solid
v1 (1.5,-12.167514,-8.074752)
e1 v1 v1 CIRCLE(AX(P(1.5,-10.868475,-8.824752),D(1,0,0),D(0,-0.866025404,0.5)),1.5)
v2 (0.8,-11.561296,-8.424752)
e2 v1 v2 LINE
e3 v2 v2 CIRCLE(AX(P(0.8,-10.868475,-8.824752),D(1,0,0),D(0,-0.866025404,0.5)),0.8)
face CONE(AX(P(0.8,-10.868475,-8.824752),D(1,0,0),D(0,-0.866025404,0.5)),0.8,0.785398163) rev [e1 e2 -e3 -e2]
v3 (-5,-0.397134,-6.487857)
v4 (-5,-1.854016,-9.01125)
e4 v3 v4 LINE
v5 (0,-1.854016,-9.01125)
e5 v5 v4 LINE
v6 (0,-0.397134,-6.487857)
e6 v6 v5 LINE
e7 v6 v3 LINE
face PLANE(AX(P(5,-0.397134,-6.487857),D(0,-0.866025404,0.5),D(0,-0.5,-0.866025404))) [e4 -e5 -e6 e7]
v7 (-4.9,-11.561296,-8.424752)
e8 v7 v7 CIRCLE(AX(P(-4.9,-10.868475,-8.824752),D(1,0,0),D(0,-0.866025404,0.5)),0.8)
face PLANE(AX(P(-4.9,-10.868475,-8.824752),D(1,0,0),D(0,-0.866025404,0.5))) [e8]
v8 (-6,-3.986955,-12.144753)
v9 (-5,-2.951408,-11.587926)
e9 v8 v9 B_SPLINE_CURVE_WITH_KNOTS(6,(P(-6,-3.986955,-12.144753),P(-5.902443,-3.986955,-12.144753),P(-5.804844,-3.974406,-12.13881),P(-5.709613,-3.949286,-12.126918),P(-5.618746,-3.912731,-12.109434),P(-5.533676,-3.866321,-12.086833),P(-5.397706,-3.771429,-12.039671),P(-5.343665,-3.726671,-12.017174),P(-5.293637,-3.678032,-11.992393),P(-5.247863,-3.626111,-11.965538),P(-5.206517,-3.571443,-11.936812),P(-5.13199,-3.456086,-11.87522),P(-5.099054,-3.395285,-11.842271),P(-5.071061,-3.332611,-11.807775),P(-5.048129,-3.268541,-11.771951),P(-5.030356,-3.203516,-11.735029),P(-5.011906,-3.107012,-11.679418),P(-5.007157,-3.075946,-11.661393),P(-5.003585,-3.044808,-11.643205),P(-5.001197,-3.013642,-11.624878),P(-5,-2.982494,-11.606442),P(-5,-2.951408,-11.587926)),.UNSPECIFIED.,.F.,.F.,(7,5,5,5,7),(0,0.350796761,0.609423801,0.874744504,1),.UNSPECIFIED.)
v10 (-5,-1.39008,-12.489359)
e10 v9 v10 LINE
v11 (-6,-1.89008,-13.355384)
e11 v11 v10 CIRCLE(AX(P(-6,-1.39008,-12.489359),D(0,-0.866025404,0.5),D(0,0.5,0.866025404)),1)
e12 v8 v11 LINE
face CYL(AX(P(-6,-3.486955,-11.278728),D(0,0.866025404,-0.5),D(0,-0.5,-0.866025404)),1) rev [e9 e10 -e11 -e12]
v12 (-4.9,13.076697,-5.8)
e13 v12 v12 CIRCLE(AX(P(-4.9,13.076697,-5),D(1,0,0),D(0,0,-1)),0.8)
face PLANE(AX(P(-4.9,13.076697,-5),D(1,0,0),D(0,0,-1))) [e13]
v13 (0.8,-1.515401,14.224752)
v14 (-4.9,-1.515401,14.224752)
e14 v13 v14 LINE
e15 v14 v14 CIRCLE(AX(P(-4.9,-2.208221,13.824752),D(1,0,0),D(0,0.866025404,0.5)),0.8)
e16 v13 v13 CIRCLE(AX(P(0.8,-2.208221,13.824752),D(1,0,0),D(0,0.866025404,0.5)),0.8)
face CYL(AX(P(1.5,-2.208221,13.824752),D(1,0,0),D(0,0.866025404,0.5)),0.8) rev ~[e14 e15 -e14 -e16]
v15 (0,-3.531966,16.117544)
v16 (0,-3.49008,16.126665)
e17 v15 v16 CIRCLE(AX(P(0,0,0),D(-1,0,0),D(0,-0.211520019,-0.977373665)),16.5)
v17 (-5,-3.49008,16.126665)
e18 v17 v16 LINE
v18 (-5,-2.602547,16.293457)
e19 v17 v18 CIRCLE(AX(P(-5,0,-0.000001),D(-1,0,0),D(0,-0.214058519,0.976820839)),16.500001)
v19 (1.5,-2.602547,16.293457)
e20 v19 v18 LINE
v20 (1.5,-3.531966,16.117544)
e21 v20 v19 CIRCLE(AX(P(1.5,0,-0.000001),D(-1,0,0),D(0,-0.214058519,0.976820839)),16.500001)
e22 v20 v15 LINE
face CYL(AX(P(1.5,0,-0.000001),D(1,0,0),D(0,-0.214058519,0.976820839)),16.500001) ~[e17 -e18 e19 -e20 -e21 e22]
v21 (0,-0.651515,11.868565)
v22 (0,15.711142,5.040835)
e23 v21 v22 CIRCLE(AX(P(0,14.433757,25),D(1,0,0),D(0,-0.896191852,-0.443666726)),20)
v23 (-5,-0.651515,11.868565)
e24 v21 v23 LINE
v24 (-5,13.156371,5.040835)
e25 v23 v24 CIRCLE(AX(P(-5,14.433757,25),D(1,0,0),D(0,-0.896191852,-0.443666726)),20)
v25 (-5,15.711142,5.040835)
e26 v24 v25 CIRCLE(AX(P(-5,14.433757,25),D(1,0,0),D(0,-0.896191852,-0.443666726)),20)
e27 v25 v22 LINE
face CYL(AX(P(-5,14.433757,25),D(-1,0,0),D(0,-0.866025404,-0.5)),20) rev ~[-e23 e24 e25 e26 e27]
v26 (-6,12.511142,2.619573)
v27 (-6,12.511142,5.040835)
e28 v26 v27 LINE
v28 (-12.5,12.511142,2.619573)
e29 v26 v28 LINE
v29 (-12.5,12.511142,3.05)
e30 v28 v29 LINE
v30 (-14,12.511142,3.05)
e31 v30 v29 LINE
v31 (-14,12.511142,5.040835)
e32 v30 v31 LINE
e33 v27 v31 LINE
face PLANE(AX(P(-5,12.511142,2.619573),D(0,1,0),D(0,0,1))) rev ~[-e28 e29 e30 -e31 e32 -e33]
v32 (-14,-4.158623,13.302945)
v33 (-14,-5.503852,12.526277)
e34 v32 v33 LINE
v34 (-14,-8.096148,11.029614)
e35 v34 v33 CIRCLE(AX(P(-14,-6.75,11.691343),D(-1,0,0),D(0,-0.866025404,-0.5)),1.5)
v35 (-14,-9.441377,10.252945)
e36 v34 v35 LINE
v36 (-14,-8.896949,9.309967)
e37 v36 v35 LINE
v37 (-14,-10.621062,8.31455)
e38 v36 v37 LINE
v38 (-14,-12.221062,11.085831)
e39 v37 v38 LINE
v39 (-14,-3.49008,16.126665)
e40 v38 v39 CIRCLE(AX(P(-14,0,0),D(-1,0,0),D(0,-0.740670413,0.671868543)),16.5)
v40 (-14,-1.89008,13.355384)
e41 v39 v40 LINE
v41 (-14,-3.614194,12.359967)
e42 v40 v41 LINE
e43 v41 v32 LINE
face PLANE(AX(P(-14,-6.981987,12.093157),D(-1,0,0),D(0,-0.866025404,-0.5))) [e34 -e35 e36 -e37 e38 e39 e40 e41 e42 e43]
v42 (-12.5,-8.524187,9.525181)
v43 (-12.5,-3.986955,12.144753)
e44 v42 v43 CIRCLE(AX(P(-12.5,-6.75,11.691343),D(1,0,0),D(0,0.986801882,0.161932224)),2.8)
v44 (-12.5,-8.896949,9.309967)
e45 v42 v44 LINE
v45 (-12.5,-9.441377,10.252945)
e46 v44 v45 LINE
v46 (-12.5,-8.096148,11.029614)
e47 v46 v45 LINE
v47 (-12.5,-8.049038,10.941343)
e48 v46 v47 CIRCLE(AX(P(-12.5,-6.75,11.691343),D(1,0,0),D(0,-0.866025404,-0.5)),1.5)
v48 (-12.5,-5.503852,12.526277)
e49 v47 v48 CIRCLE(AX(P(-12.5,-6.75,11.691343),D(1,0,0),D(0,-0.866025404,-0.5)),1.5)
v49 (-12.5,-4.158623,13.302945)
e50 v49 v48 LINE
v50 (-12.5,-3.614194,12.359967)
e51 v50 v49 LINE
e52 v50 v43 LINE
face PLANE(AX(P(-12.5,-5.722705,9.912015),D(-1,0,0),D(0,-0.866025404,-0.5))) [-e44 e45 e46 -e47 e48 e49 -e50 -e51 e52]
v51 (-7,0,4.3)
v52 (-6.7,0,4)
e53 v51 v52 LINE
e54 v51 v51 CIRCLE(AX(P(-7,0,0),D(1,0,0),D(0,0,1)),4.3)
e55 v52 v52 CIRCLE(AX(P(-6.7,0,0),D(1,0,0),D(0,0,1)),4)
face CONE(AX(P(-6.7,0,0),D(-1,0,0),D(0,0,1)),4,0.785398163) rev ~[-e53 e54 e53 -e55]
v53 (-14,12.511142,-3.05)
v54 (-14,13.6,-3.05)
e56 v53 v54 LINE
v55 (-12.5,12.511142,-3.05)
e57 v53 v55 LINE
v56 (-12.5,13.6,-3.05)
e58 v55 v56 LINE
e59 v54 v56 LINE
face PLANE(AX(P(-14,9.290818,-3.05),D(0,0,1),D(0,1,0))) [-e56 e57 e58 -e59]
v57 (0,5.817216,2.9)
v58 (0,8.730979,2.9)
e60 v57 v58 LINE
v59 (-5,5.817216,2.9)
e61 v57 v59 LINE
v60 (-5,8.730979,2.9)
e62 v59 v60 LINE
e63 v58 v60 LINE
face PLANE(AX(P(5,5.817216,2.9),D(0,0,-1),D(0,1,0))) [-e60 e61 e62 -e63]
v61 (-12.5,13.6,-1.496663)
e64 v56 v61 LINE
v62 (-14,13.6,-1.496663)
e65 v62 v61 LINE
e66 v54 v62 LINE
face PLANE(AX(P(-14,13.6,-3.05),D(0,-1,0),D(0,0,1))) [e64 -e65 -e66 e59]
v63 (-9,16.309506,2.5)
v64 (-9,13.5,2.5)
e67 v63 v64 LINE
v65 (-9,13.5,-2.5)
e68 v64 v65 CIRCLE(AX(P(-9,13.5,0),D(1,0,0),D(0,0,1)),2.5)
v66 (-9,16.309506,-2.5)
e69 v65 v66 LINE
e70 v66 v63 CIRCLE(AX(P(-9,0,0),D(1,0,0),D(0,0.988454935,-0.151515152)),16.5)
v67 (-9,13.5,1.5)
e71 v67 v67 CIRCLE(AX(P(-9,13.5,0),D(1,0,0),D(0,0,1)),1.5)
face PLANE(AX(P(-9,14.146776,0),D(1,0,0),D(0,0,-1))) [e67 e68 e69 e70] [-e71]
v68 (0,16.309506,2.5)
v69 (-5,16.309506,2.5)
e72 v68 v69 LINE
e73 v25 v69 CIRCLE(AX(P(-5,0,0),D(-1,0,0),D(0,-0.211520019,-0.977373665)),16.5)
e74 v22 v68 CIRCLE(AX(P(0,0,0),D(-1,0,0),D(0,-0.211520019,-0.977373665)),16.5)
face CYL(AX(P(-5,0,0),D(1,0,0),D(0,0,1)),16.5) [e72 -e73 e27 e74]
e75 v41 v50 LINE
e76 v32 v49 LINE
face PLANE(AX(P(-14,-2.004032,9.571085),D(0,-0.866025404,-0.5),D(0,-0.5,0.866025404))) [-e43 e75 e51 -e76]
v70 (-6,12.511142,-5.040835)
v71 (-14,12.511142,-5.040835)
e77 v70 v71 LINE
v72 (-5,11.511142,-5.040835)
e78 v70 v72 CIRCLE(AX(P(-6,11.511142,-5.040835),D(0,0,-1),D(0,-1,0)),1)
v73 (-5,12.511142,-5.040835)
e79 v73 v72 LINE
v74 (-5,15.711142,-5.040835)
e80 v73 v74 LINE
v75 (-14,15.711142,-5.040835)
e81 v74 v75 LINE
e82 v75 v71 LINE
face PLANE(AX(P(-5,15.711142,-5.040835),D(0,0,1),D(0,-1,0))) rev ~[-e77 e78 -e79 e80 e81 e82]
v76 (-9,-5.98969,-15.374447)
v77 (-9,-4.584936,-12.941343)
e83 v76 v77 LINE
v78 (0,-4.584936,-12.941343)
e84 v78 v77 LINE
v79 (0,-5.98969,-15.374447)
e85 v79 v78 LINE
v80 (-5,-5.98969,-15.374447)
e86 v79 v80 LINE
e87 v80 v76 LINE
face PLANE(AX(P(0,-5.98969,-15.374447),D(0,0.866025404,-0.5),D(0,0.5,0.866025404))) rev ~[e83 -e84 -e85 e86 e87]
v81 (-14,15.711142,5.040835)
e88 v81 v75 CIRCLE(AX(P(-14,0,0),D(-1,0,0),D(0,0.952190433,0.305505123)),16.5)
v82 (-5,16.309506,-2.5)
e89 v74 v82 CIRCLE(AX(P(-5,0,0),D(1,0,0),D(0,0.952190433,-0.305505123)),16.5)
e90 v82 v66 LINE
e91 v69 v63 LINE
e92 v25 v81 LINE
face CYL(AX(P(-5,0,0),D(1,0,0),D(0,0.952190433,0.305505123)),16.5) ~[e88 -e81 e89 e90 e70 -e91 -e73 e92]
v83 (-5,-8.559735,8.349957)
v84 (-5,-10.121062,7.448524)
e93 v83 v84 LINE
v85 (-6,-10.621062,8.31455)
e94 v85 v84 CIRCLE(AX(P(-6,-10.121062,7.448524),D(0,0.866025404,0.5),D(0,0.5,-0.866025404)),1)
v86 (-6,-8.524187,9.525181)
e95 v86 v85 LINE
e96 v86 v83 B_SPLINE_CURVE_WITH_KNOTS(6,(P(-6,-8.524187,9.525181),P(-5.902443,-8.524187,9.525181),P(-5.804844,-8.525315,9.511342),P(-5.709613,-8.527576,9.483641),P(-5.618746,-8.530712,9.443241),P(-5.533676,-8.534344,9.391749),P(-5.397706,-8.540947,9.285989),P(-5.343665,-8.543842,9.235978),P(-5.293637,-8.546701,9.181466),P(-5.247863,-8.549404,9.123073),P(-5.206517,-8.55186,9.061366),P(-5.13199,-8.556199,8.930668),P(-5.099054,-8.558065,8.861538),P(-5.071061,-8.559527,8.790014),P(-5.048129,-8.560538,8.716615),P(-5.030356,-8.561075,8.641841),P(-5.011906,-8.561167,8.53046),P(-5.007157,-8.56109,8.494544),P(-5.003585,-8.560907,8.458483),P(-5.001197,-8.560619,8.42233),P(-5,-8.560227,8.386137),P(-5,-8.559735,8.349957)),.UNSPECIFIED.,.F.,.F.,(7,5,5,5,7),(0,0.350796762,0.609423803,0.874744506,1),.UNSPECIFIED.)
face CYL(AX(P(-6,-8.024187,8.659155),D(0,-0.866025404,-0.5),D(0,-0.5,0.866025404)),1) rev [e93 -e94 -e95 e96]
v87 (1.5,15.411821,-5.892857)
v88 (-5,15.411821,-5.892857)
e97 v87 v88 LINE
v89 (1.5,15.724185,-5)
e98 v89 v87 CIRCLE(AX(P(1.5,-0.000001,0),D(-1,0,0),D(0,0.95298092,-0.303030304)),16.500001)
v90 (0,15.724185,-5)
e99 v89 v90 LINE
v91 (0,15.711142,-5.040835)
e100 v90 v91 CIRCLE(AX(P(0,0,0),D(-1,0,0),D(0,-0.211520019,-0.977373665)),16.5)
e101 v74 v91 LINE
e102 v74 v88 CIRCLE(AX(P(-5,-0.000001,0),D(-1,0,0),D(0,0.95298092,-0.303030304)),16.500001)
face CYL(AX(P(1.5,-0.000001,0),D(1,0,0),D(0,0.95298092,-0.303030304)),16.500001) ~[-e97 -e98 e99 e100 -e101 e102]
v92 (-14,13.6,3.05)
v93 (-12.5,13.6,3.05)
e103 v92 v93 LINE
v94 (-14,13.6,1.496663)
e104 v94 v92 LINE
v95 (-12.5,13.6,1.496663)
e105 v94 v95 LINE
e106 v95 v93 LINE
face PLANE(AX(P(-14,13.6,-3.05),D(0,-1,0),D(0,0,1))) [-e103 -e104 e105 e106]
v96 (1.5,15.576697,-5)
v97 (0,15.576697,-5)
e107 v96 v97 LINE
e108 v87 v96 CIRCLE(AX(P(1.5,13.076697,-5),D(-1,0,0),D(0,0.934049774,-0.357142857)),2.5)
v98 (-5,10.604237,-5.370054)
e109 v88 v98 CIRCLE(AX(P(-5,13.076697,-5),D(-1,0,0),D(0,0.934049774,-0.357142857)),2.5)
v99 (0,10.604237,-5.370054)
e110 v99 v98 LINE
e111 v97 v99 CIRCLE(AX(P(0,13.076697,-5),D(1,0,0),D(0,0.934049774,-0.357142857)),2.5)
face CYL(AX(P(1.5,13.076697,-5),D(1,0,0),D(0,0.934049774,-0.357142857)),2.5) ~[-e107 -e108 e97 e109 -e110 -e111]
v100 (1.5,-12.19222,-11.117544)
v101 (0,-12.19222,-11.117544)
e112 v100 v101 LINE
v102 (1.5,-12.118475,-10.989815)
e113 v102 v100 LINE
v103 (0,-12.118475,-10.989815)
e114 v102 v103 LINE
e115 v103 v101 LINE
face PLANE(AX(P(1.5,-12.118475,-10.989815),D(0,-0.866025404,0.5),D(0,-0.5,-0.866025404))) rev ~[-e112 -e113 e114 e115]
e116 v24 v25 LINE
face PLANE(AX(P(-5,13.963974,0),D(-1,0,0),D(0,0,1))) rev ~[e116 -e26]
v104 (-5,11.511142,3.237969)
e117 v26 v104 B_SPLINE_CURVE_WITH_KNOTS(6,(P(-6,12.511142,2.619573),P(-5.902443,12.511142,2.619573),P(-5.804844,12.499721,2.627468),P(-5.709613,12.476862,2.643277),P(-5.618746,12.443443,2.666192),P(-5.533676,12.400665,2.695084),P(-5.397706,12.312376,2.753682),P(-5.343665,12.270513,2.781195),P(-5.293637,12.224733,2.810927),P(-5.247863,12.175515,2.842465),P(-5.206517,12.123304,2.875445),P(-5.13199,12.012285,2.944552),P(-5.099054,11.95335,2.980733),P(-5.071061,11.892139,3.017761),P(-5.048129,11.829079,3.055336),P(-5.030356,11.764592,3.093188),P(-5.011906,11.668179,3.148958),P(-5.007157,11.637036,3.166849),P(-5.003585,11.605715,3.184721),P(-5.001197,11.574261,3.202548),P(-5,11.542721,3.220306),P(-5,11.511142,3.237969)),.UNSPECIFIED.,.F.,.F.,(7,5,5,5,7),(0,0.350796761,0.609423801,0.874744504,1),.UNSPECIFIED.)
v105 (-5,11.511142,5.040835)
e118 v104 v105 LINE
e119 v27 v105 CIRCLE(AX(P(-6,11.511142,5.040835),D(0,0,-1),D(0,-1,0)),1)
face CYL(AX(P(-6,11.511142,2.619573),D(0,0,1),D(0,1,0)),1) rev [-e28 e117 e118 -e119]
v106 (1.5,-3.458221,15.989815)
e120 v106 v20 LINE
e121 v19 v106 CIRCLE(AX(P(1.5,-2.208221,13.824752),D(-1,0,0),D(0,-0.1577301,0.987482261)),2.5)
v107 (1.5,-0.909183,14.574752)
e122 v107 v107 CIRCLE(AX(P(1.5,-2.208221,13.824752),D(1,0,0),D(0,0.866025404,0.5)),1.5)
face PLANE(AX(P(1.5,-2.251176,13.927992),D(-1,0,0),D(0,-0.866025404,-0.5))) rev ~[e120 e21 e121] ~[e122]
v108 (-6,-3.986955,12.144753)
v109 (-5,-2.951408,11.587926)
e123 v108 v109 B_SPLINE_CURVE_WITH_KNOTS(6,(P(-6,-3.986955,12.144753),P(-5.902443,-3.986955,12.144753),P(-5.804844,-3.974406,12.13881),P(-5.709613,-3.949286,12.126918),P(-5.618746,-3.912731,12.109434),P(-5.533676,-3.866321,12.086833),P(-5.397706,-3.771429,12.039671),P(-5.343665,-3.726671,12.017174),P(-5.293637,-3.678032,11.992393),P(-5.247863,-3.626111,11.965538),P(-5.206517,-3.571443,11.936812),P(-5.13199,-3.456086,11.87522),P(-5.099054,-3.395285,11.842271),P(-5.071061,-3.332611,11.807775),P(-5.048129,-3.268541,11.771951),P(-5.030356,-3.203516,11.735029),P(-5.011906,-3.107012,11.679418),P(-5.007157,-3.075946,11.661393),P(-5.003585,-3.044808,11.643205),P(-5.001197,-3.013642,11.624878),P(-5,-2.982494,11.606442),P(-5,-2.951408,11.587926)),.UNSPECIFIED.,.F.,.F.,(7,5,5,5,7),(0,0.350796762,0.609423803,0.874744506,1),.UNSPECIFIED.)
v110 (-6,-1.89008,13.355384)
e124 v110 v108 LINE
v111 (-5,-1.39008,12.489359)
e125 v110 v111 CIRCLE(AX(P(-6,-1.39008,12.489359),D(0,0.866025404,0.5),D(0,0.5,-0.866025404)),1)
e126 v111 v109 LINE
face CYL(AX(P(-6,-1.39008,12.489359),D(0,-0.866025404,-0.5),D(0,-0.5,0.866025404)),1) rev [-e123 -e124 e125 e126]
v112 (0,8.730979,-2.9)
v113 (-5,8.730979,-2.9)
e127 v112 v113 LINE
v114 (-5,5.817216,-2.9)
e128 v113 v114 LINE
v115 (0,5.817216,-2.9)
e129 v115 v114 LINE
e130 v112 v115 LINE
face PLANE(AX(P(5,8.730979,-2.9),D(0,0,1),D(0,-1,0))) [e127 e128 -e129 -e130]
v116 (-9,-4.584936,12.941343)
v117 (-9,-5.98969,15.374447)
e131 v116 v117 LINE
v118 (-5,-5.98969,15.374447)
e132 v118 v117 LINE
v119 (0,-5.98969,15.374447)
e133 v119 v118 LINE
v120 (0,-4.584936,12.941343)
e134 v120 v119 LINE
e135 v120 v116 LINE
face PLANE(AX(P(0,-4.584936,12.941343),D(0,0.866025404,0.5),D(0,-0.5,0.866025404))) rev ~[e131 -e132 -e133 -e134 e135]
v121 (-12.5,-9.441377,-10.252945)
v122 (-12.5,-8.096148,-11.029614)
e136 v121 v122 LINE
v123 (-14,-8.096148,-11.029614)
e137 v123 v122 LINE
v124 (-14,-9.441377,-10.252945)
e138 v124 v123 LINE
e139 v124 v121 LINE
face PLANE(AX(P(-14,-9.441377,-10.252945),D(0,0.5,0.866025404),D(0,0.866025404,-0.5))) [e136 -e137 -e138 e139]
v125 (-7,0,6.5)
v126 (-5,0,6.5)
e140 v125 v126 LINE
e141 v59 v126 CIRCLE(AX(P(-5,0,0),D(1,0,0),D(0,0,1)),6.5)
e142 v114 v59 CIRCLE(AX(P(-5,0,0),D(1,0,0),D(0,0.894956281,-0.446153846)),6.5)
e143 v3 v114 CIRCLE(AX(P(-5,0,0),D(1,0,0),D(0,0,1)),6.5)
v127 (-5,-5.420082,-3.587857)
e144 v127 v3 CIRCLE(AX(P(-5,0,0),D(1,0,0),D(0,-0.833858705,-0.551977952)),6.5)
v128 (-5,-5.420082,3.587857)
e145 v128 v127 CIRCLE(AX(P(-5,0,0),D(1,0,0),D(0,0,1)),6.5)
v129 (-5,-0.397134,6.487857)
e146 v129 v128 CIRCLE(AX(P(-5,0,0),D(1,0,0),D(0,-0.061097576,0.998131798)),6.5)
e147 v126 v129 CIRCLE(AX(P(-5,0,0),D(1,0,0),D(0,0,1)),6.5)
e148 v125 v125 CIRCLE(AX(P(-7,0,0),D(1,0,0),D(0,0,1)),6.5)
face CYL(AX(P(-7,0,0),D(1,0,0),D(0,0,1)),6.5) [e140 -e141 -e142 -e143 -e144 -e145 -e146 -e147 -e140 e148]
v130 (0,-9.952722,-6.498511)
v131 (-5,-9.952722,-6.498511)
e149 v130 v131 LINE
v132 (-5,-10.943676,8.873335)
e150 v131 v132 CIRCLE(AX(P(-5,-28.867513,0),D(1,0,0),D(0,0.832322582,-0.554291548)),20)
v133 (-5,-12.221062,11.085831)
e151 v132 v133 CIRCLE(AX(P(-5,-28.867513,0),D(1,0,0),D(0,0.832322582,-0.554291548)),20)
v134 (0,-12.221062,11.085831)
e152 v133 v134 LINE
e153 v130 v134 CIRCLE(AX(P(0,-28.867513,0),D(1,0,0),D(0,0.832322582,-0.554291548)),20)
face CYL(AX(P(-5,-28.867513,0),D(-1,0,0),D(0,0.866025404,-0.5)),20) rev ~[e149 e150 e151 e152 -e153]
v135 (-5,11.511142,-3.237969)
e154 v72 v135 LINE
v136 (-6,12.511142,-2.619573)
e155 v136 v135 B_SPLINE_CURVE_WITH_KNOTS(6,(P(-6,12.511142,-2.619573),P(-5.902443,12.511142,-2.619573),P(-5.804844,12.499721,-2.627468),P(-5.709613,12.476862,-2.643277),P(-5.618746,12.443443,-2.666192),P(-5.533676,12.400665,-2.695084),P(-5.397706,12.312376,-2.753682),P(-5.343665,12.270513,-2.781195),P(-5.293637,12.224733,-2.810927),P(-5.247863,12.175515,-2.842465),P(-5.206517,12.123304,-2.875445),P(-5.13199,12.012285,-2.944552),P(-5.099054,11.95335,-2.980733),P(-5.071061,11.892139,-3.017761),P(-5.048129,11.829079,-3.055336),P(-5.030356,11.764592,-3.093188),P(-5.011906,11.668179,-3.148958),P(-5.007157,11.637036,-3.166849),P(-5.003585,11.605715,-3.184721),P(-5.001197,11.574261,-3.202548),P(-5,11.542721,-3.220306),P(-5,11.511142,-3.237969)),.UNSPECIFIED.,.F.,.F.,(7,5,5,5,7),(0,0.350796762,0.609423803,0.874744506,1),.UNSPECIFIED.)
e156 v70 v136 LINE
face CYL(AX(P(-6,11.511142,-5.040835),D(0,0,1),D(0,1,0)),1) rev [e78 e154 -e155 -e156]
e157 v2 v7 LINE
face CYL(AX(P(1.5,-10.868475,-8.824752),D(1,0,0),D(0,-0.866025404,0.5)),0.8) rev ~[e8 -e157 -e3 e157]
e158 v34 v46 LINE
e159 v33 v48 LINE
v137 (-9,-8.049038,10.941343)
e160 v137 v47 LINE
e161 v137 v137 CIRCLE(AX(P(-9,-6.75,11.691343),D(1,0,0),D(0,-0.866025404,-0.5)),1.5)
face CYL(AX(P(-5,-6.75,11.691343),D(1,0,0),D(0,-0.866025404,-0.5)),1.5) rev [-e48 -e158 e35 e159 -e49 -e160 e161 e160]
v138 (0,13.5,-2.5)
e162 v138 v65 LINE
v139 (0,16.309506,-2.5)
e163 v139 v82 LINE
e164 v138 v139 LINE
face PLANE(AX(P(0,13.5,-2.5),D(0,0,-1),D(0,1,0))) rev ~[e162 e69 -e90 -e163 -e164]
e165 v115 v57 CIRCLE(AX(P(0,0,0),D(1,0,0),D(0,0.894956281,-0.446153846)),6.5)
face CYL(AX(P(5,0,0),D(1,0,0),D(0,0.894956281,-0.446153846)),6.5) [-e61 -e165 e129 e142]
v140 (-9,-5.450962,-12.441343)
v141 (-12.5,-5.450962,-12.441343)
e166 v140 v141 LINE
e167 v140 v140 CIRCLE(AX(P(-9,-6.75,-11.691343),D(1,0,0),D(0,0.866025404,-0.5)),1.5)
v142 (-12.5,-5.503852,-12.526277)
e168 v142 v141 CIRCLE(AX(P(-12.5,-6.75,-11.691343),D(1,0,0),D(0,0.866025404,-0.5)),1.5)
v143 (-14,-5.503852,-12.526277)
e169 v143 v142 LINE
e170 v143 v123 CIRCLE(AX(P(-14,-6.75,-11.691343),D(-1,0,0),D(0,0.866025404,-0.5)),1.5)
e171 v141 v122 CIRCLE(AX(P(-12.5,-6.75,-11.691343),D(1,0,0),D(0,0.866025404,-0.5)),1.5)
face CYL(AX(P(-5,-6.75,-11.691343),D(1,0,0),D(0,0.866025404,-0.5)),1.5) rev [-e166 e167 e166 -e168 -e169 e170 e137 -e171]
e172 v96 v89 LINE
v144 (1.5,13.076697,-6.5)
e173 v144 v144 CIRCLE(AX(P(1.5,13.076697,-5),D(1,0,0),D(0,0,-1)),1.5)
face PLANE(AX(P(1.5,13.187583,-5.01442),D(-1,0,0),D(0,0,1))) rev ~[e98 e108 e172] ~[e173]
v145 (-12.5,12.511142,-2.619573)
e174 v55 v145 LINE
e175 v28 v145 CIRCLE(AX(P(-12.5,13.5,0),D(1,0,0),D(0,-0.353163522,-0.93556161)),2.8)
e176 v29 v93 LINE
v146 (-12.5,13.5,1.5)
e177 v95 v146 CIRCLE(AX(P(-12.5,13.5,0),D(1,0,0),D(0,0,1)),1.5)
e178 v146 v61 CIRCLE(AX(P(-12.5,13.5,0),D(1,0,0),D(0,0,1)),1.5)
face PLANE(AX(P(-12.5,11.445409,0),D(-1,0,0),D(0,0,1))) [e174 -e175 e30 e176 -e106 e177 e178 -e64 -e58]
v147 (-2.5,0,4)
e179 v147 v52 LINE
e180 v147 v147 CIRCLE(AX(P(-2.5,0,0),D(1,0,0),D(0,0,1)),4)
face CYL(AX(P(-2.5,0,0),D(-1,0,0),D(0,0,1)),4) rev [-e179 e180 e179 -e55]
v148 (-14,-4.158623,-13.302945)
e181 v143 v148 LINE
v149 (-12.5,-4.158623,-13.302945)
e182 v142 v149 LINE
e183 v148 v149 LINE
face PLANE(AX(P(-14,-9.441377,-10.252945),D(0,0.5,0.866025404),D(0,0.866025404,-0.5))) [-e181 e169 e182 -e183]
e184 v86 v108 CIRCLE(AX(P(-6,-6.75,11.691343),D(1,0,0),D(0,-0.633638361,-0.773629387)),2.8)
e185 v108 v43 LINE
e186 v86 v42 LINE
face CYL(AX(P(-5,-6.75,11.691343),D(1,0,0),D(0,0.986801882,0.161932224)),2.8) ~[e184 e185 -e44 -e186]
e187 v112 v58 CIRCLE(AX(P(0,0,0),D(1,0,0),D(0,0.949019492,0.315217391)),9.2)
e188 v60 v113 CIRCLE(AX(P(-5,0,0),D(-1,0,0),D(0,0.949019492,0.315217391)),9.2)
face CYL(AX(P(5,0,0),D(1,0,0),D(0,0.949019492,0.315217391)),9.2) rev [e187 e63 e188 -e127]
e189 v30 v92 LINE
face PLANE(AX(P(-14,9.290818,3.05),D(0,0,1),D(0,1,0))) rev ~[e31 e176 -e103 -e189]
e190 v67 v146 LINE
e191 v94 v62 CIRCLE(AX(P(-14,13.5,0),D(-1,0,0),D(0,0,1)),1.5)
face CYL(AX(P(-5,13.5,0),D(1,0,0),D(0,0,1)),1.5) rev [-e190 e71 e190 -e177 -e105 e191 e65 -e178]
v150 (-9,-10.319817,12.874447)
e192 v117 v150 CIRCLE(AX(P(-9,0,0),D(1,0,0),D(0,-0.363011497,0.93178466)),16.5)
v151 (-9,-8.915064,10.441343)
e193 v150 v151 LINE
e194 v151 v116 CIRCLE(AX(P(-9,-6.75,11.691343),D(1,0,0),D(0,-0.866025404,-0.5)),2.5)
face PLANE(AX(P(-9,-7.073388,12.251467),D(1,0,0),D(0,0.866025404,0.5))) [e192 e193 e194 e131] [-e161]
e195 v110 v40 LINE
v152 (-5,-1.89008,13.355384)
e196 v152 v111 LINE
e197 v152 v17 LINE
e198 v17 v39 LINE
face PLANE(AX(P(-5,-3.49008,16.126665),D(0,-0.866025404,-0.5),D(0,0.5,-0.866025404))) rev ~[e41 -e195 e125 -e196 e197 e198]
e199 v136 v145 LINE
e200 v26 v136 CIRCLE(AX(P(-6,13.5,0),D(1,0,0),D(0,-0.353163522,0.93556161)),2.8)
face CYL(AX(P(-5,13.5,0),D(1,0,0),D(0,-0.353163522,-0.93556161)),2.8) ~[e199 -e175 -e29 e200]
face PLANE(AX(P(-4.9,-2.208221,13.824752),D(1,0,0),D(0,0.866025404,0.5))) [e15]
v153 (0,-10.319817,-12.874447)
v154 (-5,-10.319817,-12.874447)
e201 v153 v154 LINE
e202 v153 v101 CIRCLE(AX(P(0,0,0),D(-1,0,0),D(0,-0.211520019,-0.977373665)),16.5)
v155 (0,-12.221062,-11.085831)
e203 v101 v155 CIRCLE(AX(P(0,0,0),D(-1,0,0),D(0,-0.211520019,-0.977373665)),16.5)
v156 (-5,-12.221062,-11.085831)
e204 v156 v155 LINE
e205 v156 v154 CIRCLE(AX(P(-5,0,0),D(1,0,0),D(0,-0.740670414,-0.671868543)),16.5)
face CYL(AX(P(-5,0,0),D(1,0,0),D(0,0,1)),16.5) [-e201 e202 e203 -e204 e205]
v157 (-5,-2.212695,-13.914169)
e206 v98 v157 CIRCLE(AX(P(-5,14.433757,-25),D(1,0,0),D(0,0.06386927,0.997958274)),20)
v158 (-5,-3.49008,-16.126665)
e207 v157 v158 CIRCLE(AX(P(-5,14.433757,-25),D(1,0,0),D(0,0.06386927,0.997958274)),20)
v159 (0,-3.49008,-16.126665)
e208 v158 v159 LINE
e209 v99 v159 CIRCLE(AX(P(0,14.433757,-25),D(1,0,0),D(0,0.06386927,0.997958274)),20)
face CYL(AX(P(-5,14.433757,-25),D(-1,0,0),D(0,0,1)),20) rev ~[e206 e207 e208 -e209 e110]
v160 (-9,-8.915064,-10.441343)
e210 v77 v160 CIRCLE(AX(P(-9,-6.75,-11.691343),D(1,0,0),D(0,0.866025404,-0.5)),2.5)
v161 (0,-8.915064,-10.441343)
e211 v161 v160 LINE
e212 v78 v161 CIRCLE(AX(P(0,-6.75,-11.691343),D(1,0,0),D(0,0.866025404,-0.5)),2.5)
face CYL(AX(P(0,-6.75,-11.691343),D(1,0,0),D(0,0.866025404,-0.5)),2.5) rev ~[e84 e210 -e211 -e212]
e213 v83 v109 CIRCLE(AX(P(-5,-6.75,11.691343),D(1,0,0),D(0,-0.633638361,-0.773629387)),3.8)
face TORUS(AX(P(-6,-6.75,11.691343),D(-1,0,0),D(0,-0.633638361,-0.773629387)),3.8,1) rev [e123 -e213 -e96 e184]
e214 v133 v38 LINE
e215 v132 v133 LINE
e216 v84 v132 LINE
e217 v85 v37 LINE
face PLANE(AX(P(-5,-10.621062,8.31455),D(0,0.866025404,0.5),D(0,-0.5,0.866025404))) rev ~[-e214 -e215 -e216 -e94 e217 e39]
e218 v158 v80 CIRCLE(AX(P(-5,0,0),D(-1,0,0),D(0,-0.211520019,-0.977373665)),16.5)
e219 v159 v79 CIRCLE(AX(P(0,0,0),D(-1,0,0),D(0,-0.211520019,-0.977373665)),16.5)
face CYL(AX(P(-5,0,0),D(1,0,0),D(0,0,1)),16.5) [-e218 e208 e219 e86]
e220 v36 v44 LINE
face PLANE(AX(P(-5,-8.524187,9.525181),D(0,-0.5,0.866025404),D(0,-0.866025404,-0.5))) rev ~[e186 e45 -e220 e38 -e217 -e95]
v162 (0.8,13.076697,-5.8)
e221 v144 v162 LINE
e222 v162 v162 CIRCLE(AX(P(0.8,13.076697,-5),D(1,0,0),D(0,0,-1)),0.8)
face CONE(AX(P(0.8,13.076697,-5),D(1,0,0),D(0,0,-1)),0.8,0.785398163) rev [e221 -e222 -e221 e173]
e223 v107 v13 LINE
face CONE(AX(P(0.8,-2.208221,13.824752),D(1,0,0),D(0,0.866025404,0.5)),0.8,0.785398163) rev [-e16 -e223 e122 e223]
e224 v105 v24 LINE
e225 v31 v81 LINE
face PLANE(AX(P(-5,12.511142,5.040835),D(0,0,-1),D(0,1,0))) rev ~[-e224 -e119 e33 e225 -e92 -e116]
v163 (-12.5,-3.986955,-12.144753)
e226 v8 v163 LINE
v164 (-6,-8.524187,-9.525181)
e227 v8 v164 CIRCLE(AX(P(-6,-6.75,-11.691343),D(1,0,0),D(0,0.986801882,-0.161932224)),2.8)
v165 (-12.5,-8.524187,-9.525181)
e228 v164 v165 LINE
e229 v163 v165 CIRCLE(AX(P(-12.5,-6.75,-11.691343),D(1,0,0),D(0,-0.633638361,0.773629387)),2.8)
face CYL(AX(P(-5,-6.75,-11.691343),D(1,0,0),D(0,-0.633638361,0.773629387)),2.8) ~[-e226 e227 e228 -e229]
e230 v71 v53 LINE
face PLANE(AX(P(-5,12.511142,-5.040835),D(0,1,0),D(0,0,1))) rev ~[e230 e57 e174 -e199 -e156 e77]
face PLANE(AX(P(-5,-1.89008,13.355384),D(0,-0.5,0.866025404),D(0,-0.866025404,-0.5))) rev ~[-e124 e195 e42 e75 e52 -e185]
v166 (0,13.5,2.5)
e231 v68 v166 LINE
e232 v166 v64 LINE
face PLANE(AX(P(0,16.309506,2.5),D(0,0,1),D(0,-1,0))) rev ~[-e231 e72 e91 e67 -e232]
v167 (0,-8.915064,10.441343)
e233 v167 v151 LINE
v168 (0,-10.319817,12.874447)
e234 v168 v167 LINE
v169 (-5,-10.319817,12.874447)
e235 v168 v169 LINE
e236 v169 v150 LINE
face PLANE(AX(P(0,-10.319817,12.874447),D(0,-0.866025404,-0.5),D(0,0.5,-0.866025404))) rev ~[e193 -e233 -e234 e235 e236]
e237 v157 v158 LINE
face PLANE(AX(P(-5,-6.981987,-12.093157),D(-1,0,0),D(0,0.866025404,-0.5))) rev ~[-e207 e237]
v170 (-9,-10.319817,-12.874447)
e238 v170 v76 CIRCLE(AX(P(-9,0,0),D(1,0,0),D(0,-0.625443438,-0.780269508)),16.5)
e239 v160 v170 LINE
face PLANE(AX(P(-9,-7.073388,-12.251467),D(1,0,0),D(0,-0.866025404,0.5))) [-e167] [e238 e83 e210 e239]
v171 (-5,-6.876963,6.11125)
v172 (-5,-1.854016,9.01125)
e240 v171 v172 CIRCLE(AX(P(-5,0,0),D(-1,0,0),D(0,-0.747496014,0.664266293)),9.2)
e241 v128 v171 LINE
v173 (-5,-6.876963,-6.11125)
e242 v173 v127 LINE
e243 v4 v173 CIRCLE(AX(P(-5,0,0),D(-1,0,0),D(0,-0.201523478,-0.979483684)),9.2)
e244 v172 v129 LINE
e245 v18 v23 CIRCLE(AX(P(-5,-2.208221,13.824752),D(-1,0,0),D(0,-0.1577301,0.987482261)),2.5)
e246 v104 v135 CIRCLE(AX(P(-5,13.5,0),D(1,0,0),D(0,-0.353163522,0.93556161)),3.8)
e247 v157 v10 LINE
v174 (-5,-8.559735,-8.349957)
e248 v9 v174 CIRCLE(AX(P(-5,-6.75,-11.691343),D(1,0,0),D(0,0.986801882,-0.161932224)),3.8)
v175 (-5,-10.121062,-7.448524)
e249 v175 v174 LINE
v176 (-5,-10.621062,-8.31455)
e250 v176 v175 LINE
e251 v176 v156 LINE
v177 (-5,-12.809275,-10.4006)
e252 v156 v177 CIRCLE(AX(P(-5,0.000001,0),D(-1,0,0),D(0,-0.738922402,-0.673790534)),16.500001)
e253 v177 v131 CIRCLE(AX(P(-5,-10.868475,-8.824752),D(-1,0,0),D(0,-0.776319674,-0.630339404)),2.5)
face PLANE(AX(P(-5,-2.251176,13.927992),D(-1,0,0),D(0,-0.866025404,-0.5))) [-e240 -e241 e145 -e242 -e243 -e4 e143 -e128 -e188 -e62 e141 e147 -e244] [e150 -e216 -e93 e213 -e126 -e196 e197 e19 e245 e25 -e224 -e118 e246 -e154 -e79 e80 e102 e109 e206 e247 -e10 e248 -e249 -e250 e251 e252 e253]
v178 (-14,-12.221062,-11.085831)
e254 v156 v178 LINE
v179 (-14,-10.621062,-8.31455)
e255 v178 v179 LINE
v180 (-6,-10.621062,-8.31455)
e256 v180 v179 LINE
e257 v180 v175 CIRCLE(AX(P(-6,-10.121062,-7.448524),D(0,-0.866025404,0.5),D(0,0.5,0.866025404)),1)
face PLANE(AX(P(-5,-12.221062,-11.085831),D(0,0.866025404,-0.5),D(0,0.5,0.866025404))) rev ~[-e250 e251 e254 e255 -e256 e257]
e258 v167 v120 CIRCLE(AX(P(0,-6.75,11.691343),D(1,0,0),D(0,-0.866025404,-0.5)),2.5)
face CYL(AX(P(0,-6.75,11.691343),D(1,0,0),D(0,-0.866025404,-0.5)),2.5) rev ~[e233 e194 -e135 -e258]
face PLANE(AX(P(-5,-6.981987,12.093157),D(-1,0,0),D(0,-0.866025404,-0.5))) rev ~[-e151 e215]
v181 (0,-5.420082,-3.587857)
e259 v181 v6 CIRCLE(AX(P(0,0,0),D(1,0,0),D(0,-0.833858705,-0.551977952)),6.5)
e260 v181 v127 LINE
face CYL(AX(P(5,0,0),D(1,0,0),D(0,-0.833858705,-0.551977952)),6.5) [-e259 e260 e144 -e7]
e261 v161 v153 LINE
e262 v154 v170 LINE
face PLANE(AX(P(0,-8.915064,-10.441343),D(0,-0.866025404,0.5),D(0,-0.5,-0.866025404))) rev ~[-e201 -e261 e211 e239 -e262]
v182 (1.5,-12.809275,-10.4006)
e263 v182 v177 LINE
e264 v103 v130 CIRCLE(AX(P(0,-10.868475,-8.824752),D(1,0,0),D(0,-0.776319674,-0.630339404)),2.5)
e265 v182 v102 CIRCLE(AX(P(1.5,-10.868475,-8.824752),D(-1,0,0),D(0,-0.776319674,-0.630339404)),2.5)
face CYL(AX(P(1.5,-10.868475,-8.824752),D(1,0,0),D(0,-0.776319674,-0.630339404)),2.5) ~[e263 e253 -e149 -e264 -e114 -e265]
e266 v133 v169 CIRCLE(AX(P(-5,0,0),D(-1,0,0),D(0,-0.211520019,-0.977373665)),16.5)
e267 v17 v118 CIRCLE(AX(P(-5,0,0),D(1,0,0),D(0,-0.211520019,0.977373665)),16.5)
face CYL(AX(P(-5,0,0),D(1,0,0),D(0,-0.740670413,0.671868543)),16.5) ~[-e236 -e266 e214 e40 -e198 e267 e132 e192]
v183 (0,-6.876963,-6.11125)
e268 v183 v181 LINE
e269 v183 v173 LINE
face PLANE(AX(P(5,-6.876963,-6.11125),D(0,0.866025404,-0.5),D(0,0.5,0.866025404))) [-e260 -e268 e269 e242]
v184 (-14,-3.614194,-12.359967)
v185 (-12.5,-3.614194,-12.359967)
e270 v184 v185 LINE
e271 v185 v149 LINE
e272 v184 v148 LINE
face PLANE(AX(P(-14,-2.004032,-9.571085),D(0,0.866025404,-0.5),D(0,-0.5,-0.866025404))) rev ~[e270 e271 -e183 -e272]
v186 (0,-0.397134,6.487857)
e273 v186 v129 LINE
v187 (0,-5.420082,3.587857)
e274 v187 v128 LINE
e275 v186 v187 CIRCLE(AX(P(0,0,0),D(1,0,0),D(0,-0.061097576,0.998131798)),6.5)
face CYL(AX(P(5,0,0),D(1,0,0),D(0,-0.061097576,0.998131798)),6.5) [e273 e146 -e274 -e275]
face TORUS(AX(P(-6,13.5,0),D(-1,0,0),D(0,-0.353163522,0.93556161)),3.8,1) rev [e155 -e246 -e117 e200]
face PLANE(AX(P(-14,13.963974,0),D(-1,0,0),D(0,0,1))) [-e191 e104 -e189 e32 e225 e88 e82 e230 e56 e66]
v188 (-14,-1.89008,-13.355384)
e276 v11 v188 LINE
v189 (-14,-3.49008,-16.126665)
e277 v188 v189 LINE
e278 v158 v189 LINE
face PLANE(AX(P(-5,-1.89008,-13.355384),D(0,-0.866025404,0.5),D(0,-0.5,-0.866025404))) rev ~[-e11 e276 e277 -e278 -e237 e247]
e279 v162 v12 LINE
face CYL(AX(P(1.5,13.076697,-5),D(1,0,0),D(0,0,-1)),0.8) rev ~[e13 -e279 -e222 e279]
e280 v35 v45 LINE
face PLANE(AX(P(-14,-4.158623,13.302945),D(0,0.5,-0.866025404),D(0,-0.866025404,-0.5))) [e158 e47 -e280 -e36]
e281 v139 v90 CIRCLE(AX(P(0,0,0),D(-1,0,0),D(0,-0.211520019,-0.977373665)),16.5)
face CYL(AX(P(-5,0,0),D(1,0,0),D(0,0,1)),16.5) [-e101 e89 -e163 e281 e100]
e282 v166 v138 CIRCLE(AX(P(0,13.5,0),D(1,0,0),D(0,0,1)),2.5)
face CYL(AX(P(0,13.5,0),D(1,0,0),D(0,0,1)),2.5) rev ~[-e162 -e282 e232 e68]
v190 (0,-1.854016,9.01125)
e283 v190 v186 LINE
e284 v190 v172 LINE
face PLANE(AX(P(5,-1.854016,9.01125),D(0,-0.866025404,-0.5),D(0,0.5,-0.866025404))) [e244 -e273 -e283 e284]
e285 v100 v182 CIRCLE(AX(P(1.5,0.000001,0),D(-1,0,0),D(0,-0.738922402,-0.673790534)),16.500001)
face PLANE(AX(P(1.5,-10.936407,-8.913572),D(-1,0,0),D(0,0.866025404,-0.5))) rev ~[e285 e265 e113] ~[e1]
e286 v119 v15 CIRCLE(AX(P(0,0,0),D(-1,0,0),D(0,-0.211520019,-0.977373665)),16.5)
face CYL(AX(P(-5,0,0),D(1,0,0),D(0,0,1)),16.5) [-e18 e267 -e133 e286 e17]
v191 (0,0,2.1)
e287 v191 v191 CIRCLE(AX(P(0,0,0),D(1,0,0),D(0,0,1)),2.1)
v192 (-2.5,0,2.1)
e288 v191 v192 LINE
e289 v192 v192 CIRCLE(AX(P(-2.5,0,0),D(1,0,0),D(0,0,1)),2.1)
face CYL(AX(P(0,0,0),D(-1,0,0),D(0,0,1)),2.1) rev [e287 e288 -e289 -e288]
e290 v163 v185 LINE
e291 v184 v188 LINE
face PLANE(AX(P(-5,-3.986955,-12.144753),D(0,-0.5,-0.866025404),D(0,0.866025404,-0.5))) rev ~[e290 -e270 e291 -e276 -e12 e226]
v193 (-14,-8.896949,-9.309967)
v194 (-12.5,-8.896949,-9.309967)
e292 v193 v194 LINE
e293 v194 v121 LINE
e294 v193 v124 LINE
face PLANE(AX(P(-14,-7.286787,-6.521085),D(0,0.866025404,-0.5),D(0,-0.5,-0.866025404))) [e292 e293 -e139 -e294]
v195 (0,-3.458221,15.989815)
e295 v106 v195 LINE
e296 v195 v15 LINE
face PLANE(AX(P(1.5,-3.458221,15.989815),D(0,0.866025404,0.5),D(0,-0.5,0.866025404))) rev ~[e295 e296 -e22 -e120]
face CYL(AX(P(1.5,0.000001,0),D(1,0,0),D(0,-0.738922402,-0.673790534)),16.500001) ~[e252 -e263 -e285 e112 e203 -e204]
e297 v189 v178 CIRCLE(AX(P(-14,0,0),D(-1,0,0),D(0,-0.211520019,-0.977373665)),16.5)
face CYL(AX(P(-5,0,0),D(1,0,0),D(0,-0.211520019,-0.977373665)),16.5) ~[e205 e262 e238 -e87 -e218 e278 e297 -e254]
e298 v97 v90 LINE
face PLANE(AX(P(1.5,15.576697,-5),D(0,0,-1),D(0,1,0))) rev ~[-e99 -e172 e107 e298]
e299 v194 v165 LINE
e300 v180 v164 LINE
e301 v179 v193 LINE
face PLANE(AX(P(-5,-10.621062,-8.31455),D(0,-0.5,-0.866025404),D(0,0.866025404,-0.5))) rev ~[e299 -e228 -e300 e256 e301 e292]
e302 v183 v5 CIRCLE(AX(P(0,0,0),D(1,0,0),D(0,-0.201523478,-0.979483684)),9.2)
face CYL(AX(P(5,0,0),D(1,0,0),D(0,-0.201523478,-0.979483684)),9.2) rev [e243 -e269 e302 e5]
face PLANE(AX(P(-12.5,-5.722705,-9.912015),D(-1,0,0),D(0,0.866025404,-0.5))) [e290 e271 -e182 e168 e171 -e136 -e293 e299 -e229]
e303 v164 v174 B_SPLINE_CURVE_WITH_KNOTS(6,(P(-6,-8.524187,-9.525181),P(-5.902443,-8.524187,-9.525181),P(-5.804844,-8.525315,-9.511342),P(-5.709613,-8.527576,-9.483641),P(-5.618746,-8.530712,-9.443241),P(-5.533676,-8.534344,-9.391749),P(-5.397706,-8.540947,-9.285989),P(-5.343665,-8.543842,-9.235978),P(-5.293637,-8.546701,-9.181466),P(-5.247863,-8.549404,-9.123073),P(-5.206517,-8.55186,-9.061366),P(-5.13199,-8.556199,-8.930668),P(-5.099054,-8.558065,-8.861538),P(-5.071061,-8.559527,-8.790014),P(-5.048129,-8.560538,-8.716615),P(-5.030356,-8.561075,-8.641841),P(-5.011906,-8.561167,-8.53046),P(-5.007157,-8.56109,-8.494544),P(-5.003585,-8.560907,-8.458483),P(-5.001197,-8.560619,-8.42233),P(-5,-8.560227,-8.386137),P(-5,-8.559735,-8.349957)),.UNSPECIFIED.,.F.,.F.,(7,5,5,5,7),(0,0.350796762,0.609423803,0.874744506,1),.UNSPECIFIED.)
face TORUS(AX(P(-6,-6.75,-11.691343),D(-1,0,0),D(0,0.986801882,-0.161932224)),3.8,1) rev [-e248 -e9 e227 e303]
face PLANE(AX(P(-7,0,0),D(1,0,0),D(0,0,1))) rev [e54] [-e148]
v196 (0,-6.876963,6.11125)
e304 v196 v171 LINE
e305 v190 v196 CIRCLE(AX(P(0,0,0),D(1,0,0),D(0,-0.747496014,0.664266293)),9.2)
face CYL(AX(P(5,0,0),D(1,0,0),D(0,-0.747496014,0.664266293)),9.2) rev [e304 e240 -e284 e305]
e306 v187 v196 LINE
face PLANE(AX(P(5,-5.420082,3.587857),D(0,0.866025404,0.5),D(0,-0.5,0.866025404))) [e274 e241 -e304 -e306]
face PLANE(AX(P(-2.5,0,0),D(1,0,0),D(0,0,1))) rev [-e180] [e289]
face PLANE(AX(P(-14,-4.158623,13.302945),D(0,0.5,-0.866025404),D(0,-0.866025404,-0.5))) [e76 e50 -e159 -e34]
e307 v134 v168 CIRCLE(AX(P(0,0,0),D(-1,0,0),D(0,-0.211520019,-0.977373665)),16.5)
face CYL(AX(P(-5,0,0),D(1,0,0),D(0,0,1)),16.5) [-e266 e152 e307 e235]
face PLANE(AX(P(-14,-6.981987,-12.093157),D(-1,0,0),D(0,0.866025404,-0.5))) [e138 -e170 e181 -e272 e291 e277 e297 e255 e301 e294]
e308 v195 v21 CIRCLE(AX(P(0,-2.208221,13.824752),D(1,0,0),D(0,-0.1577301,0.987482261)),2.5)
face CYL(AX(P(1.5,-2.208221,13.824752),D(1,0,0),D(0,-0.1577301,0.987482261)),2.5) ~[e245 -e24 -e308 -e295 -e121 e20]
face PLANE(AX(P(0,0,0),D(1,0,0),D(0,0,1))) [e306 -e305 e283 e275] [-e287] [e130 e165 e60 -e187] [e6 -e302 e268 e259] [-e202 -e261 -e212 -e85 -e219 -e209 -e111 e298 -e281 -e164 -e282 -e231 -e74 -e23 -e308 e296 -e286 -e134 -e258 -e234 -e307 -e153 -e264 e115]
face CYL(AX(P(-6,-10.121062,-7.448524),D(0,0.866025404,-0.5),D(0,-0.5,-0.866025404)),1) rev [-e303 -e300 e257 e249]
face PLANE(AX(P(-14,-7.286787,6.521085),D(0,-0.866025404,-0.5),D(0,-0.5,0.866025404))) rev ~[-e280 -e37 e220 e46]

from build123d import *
from build123d.topology import SkipClean

# Parameters (mm, degrees)
SKETCH_2_R                           = 20
CUT_EXTRUDE_1_DEPTH                  = 10
PATTERN_CIRCULAR_1_COUNT             = 3
CUT_EXTRUDE_START                    = -10
CUT_EXTRUDE_2_DEPTH                  = 10
PATTERN_CIRCULAR_2_COUNT             = 3
SKETCH_4_R                           = 1.5
EXTRUDE_1_DEPTH                      = 9
PATTERN_CIRCULAR_3_COUNT             = 3
SKETCH_5_W                           = 6.1
SKETCH_5_H                           = 4.309181557
CUT_EXTRUDE_3_DEPTH                  = 1.5
PATTERN_CIRCULAR_4_COUNT             = 3
CUT_EXTRUDE_4_DEPTH                  = 9
PATTERN_CIRCULAR_5_COUNT             = 3
EXTRUDE_START                        = -6.5
EXTRUDE_2_DEPTH                      = 6.5
SKETCH_9_R                           = 0.8
CUT_EXTRUDE_7_DEPTH                  = 6.4
CHAMFER_3_SIZE                       = 0.7
PATTERN_CIRCULAR_8_COUNT             = 3
CHAMFER_3_OF_PATTERN_CIRCULAR_8_SIZE = 0.7
FILLET_2_R                           = 1
FILLET_3_R                           = 1
CHAMFER_4_SIZE                       = 0.3


with BuildPart() as part:
    # 草图1 → 旋转1 (revolve)
    with BuildSketch(Plane.XY, mode=Mode.PRIVATE) as revolve_1_sk:
        Polygon((-7, 6.5), (-5, 6.5), (-5, 16.5), (0, 16.5), (0, 2.1), (-2.5, 2.1), (-2.5, 4), (-7, 4), align=None)
    revolve(revolve_1_sk.sketch.rotate(Axis((-65.742857143, 0, 0), (1, 0, 0)), 90), axis=Axis((-65.742857143, 0, 0), (1, 0, 0)))

    # 草图2 → 切除-拉伸1 (cut)
    with BuildSketch(Plane.ZY.offset(5)):
        with Locations((-25, 14.43375673)):
            Circle(SKETCH_2_R)
    cut_extrude_1 = extrude(amount=-CUT_EXTRUDE_1_DEPTH, mode=Mode.SUBTRACT)

    # 阵列(圆周)1: 切除-拉伸1 ×3 about axis
    pattern_circular_1_axis = Axis((0, 0, 0), (1, 0, 0))
    for i in range(1, PATTERN_CIRCULAR_1_COUNT):
        add(cut_extrude_1.rotate(pattern_circular_1_axis, i * 360 / PATTERN_CIRCULAR_1_COUNT), mode=Mode.SUBTRACT)

    # 草图3 → 切除-拉伸2 (cut)
    with BuildSketch(Plane.ZY.offset(5).offset(CUT_EXTRUDE_START)):
        with BuildLine():
            Line((-2.9, 8.730979327), (-2.9, 5.817215829))
            ThreePointArc((-2.9, 5.817215829), (0, 6.5), (2.9, 5.817215829))
            Line((2.9, 5.817215829), (2.9, 8.730979327))
            ThreePointArc((2.9, 8.730979327), (0, 9.2), (-2.9, 8.730979327))
        make_face()
    cut_extrude_2 = extrude(amount=CUT_EXTRUDE_2_DEPTH, mode=Mode.SUBTRACT)

    # 阵列(圆周)2: 切除-拉伸2 ×3 about axis
    pattern_circular_2_axis = Axis((0, 0, 0), (1, 0, 0))
    for i in range(1, PATTERN_CIRCULAR_2_COUNT):
        add(cut_extrude_2.rotate(pattern_circular_2_axis, i * 360 / PATTERN_CIRCULAR_2_COUNT), mode=Mode.SUBTRACT)

    # 草图4 → 凸台-拉伸1 (add)
    with BuildSketch(Plane.ZY.offset(5)):
        with BuildLine():
            Line((-5.040834524, 15.711142139), (-5.040834524, 12.511142139))
            Line((-5.040834524, 12.511142139), (-2.619572509, 12.511142139))
            ThreePointArc((-2.619572509, 12.511142139), (0, 10.7), (2.619572509, 12.511142139))
            Line((2.619572509, 12.511142139), (5.040834524, 12.511142139))
            Line((5.040834524, 12.511142139), (5.040834524, 15.711142139))
            ThreePointArc((5.040834524, 15.711142139), (0, 16.5), (-5.040834524, 15.711142139))
        make_face()
        with Locations((0, 13.5)):
            Circle(SKETCH_4_R, mode=Mode.SUBTRACT)
    extrude_1 = extrude(amount=EXTRUDE_1_DEPTH)

    # 阵列(圆周)3: 凸台-拉伸1 ×3 about axis
    pattern_circular_3_axis = Axis((0, 0, 0), (1, 0, 0))
    for i in range(1, PATTERN_CIRCULAR_3_COUNT):
        add(extrude_1.rotate(pattern_circular_3_axis, i * 360 / PATTERN_CIRCULAR_3_COUNT))

    # 草图5 → 切除-拉伸3 (cut)
    with BuildSketch(Plane.ZY.offset(14)):
        with Locations((0, 11.445409222)):
            Rectangle(SKETCH_5_W, SKETCH_5_H)
    cut_extrude_3 = extrude(amount=-CUT_EXTRUDE_3_DEPTH, mode=Mode.SUBTRACT)

    # 阵列(圆周)4: 切除-拉伸3 ×3 about axis
    pattern_circular_4_axis = Axis((0, 0, 0), (1, 0, 0))
    for i in range(1, PATTERN_CIRCULAR_4_COUNT):
        add(cut_extrude_3.rotate(pattern_circular_4_axis, i * 360 / PATTERN_CIRCULAR_4_COUNT), mode=Mode.SUBTRACT)

    # 草图6 → 切除-拉伸4 (cut)
    with BuildSketch(Plane(origin=(0, 0, 0), x_dir=(0, 0, -1), z_dir=(1, 0, 0))):
        with BuildLine():
            Line((-2.5, 16.30950643), (-2.5, 13.5))
            ThreePointArc((-2.5, 13.5), (0, 11), (2.5, 13.5))
            Line((2.5, 13.5), (2.5, 16.30950643))
            ThreePointArc((2.5, 16.30950643), (0, 16.5), (-2.5, 16.30950643))
        make_face()
    cut_extrude_4 = extrude(amount=-CUT_EXTRUDE_4_DEPTH, mode=Mode.SUBTRACT)

    # 阵列(圆周)5: 切除-拉伸4 ×3 about axis
    pattern_circular_5_axis = Axis((0, 0, 0), (1, 0, 0))
    for i in range(1, PATTERN_CIRCULAR_5_COUNT):
        add(cut_extrude_4.rotate(pattern_circular_5_axis, i * 360 / PATTERN_CIRCULAR_5_COUNT), mode=Mode.SUBTRACT)

    # 草图7 → 凸台-拉伸2 (add)
    with BuildSketch(Plane.ZY.offset(5).offset(EXTRUDE_START)):
        with BuildLine():
            Line((-5, 15.576696831), (-5, 15.724185194))
            ThreePointArc((-5, 15.724185194), (-5.448667451, 15.574402814), (-5.892857143, 15.411821265))
            ThreePointArc((-5.892857143, 15.411821265), (-4.546023726, 10.618261242), (-5, 15.576696831))
        make_face()
    extrude_2 = extrude(amount=EXTRUDE_2_DEPTH)

    # 草图9 → 切除-拉伸7 (cut)
    with SkipClean():  # the faces are left unmerged after this step: merging them gives an invalid solid
        with BuildSketch(Plane(origin=(1.5, 0, 0), x_dir=(0, 0, -1), z_dir=(1, 0, 0))):
            with Locations((5, 13.076696831)):
                Circle(SKETCH_9_R)
        cut_extrude_7 = extrude(amount=-CUT_EXTRUDE_7_DEPTH, mode=Mode.SUBTRACT)

    # 倒角3
    chamfer_3_edges = [part.edges().sort_by_distance(p)[0] for p in [
        (1.5, 13.076696831, -4.2),
    ]]
    chamfer(chamfer_3_edges, length=CHAMFER_3_SIZE)

    # 阵列(圆周)8: 凸台-拉伸2, 切除-拉伸7 ×3 about axis
    with SkipClean():  # the faces are left unmerged after this step: merging them gives an invalid solid
        pattern_circular_8_axis = Axis((0, 0, 0), (1, 0, 0))
        add([extrude_2.rotate(pattern_circular_8_axis, i * 360 / PATTERN_CIRCULAR_8_COUNT) for i in range(1, PATTERN_CIRCULAR_8_COUNT)])
        add([cut_extrude_7.rotate(pattern_circular_8_axis, i * 360 / PATTERN_CIRCULAR_8_COUNT) for i in range(1, PATTERN_CIRCULAR_8_COUNT)], mode=Mode.SUBTRACT)

    # 倒角3 of 阵列(圆周)8
    chamfer_3_of_pattern_circular_8_edges = [part.edges().sort_by_distance(p)[0] for p in [
        (1.5, -2.901041719, 13.424751653),
        (1.5, -10.175655111, -9.224751653),
    ]]
    chamfer(chamfer_3_of_pattern_circular_8_edges, length=CHAMFER_3_OF_PATTERN_CIRCULAR_8_SIZE)

    # 圆角2
    fillet_2_edges = [part.edges().sort_by_distance(p)[0] for p in [
        (-5, 12.511142139, -3.830203516),
        (-5, 10.7, 0),
        (-5, 12.511142139, 3.830203516),
    ]]
    fillet(fillet_2_edges, radius=FILLET_2_R)

    # 圆角3
    fillet_3_edges = [part.edges().sort_by_distance(p)[0] for p in [
        (-5, -9.572624616, -8.919865164),
        (-5, -5.35, -9.26647182),
        (-5, -2.938517523, -12.750068681),
        (-5, -2.938517523, 12.750068681),
        (-5, -5.35, 9.26647182),
        (-5, -9.572624616, 8.919865164),
    ]]
    fillet(fillet_3_edges, radius=FILLET_3_R)

    # 倒角4
    chamfer_4_edges = [part.edges().sort_by_distance(p)[0] for p in [
        (-7, 0, -4),
    ]]
    chamfer(chamfer_4_edges, length=CHAMFER_4_SIZE)


solid = part.part
